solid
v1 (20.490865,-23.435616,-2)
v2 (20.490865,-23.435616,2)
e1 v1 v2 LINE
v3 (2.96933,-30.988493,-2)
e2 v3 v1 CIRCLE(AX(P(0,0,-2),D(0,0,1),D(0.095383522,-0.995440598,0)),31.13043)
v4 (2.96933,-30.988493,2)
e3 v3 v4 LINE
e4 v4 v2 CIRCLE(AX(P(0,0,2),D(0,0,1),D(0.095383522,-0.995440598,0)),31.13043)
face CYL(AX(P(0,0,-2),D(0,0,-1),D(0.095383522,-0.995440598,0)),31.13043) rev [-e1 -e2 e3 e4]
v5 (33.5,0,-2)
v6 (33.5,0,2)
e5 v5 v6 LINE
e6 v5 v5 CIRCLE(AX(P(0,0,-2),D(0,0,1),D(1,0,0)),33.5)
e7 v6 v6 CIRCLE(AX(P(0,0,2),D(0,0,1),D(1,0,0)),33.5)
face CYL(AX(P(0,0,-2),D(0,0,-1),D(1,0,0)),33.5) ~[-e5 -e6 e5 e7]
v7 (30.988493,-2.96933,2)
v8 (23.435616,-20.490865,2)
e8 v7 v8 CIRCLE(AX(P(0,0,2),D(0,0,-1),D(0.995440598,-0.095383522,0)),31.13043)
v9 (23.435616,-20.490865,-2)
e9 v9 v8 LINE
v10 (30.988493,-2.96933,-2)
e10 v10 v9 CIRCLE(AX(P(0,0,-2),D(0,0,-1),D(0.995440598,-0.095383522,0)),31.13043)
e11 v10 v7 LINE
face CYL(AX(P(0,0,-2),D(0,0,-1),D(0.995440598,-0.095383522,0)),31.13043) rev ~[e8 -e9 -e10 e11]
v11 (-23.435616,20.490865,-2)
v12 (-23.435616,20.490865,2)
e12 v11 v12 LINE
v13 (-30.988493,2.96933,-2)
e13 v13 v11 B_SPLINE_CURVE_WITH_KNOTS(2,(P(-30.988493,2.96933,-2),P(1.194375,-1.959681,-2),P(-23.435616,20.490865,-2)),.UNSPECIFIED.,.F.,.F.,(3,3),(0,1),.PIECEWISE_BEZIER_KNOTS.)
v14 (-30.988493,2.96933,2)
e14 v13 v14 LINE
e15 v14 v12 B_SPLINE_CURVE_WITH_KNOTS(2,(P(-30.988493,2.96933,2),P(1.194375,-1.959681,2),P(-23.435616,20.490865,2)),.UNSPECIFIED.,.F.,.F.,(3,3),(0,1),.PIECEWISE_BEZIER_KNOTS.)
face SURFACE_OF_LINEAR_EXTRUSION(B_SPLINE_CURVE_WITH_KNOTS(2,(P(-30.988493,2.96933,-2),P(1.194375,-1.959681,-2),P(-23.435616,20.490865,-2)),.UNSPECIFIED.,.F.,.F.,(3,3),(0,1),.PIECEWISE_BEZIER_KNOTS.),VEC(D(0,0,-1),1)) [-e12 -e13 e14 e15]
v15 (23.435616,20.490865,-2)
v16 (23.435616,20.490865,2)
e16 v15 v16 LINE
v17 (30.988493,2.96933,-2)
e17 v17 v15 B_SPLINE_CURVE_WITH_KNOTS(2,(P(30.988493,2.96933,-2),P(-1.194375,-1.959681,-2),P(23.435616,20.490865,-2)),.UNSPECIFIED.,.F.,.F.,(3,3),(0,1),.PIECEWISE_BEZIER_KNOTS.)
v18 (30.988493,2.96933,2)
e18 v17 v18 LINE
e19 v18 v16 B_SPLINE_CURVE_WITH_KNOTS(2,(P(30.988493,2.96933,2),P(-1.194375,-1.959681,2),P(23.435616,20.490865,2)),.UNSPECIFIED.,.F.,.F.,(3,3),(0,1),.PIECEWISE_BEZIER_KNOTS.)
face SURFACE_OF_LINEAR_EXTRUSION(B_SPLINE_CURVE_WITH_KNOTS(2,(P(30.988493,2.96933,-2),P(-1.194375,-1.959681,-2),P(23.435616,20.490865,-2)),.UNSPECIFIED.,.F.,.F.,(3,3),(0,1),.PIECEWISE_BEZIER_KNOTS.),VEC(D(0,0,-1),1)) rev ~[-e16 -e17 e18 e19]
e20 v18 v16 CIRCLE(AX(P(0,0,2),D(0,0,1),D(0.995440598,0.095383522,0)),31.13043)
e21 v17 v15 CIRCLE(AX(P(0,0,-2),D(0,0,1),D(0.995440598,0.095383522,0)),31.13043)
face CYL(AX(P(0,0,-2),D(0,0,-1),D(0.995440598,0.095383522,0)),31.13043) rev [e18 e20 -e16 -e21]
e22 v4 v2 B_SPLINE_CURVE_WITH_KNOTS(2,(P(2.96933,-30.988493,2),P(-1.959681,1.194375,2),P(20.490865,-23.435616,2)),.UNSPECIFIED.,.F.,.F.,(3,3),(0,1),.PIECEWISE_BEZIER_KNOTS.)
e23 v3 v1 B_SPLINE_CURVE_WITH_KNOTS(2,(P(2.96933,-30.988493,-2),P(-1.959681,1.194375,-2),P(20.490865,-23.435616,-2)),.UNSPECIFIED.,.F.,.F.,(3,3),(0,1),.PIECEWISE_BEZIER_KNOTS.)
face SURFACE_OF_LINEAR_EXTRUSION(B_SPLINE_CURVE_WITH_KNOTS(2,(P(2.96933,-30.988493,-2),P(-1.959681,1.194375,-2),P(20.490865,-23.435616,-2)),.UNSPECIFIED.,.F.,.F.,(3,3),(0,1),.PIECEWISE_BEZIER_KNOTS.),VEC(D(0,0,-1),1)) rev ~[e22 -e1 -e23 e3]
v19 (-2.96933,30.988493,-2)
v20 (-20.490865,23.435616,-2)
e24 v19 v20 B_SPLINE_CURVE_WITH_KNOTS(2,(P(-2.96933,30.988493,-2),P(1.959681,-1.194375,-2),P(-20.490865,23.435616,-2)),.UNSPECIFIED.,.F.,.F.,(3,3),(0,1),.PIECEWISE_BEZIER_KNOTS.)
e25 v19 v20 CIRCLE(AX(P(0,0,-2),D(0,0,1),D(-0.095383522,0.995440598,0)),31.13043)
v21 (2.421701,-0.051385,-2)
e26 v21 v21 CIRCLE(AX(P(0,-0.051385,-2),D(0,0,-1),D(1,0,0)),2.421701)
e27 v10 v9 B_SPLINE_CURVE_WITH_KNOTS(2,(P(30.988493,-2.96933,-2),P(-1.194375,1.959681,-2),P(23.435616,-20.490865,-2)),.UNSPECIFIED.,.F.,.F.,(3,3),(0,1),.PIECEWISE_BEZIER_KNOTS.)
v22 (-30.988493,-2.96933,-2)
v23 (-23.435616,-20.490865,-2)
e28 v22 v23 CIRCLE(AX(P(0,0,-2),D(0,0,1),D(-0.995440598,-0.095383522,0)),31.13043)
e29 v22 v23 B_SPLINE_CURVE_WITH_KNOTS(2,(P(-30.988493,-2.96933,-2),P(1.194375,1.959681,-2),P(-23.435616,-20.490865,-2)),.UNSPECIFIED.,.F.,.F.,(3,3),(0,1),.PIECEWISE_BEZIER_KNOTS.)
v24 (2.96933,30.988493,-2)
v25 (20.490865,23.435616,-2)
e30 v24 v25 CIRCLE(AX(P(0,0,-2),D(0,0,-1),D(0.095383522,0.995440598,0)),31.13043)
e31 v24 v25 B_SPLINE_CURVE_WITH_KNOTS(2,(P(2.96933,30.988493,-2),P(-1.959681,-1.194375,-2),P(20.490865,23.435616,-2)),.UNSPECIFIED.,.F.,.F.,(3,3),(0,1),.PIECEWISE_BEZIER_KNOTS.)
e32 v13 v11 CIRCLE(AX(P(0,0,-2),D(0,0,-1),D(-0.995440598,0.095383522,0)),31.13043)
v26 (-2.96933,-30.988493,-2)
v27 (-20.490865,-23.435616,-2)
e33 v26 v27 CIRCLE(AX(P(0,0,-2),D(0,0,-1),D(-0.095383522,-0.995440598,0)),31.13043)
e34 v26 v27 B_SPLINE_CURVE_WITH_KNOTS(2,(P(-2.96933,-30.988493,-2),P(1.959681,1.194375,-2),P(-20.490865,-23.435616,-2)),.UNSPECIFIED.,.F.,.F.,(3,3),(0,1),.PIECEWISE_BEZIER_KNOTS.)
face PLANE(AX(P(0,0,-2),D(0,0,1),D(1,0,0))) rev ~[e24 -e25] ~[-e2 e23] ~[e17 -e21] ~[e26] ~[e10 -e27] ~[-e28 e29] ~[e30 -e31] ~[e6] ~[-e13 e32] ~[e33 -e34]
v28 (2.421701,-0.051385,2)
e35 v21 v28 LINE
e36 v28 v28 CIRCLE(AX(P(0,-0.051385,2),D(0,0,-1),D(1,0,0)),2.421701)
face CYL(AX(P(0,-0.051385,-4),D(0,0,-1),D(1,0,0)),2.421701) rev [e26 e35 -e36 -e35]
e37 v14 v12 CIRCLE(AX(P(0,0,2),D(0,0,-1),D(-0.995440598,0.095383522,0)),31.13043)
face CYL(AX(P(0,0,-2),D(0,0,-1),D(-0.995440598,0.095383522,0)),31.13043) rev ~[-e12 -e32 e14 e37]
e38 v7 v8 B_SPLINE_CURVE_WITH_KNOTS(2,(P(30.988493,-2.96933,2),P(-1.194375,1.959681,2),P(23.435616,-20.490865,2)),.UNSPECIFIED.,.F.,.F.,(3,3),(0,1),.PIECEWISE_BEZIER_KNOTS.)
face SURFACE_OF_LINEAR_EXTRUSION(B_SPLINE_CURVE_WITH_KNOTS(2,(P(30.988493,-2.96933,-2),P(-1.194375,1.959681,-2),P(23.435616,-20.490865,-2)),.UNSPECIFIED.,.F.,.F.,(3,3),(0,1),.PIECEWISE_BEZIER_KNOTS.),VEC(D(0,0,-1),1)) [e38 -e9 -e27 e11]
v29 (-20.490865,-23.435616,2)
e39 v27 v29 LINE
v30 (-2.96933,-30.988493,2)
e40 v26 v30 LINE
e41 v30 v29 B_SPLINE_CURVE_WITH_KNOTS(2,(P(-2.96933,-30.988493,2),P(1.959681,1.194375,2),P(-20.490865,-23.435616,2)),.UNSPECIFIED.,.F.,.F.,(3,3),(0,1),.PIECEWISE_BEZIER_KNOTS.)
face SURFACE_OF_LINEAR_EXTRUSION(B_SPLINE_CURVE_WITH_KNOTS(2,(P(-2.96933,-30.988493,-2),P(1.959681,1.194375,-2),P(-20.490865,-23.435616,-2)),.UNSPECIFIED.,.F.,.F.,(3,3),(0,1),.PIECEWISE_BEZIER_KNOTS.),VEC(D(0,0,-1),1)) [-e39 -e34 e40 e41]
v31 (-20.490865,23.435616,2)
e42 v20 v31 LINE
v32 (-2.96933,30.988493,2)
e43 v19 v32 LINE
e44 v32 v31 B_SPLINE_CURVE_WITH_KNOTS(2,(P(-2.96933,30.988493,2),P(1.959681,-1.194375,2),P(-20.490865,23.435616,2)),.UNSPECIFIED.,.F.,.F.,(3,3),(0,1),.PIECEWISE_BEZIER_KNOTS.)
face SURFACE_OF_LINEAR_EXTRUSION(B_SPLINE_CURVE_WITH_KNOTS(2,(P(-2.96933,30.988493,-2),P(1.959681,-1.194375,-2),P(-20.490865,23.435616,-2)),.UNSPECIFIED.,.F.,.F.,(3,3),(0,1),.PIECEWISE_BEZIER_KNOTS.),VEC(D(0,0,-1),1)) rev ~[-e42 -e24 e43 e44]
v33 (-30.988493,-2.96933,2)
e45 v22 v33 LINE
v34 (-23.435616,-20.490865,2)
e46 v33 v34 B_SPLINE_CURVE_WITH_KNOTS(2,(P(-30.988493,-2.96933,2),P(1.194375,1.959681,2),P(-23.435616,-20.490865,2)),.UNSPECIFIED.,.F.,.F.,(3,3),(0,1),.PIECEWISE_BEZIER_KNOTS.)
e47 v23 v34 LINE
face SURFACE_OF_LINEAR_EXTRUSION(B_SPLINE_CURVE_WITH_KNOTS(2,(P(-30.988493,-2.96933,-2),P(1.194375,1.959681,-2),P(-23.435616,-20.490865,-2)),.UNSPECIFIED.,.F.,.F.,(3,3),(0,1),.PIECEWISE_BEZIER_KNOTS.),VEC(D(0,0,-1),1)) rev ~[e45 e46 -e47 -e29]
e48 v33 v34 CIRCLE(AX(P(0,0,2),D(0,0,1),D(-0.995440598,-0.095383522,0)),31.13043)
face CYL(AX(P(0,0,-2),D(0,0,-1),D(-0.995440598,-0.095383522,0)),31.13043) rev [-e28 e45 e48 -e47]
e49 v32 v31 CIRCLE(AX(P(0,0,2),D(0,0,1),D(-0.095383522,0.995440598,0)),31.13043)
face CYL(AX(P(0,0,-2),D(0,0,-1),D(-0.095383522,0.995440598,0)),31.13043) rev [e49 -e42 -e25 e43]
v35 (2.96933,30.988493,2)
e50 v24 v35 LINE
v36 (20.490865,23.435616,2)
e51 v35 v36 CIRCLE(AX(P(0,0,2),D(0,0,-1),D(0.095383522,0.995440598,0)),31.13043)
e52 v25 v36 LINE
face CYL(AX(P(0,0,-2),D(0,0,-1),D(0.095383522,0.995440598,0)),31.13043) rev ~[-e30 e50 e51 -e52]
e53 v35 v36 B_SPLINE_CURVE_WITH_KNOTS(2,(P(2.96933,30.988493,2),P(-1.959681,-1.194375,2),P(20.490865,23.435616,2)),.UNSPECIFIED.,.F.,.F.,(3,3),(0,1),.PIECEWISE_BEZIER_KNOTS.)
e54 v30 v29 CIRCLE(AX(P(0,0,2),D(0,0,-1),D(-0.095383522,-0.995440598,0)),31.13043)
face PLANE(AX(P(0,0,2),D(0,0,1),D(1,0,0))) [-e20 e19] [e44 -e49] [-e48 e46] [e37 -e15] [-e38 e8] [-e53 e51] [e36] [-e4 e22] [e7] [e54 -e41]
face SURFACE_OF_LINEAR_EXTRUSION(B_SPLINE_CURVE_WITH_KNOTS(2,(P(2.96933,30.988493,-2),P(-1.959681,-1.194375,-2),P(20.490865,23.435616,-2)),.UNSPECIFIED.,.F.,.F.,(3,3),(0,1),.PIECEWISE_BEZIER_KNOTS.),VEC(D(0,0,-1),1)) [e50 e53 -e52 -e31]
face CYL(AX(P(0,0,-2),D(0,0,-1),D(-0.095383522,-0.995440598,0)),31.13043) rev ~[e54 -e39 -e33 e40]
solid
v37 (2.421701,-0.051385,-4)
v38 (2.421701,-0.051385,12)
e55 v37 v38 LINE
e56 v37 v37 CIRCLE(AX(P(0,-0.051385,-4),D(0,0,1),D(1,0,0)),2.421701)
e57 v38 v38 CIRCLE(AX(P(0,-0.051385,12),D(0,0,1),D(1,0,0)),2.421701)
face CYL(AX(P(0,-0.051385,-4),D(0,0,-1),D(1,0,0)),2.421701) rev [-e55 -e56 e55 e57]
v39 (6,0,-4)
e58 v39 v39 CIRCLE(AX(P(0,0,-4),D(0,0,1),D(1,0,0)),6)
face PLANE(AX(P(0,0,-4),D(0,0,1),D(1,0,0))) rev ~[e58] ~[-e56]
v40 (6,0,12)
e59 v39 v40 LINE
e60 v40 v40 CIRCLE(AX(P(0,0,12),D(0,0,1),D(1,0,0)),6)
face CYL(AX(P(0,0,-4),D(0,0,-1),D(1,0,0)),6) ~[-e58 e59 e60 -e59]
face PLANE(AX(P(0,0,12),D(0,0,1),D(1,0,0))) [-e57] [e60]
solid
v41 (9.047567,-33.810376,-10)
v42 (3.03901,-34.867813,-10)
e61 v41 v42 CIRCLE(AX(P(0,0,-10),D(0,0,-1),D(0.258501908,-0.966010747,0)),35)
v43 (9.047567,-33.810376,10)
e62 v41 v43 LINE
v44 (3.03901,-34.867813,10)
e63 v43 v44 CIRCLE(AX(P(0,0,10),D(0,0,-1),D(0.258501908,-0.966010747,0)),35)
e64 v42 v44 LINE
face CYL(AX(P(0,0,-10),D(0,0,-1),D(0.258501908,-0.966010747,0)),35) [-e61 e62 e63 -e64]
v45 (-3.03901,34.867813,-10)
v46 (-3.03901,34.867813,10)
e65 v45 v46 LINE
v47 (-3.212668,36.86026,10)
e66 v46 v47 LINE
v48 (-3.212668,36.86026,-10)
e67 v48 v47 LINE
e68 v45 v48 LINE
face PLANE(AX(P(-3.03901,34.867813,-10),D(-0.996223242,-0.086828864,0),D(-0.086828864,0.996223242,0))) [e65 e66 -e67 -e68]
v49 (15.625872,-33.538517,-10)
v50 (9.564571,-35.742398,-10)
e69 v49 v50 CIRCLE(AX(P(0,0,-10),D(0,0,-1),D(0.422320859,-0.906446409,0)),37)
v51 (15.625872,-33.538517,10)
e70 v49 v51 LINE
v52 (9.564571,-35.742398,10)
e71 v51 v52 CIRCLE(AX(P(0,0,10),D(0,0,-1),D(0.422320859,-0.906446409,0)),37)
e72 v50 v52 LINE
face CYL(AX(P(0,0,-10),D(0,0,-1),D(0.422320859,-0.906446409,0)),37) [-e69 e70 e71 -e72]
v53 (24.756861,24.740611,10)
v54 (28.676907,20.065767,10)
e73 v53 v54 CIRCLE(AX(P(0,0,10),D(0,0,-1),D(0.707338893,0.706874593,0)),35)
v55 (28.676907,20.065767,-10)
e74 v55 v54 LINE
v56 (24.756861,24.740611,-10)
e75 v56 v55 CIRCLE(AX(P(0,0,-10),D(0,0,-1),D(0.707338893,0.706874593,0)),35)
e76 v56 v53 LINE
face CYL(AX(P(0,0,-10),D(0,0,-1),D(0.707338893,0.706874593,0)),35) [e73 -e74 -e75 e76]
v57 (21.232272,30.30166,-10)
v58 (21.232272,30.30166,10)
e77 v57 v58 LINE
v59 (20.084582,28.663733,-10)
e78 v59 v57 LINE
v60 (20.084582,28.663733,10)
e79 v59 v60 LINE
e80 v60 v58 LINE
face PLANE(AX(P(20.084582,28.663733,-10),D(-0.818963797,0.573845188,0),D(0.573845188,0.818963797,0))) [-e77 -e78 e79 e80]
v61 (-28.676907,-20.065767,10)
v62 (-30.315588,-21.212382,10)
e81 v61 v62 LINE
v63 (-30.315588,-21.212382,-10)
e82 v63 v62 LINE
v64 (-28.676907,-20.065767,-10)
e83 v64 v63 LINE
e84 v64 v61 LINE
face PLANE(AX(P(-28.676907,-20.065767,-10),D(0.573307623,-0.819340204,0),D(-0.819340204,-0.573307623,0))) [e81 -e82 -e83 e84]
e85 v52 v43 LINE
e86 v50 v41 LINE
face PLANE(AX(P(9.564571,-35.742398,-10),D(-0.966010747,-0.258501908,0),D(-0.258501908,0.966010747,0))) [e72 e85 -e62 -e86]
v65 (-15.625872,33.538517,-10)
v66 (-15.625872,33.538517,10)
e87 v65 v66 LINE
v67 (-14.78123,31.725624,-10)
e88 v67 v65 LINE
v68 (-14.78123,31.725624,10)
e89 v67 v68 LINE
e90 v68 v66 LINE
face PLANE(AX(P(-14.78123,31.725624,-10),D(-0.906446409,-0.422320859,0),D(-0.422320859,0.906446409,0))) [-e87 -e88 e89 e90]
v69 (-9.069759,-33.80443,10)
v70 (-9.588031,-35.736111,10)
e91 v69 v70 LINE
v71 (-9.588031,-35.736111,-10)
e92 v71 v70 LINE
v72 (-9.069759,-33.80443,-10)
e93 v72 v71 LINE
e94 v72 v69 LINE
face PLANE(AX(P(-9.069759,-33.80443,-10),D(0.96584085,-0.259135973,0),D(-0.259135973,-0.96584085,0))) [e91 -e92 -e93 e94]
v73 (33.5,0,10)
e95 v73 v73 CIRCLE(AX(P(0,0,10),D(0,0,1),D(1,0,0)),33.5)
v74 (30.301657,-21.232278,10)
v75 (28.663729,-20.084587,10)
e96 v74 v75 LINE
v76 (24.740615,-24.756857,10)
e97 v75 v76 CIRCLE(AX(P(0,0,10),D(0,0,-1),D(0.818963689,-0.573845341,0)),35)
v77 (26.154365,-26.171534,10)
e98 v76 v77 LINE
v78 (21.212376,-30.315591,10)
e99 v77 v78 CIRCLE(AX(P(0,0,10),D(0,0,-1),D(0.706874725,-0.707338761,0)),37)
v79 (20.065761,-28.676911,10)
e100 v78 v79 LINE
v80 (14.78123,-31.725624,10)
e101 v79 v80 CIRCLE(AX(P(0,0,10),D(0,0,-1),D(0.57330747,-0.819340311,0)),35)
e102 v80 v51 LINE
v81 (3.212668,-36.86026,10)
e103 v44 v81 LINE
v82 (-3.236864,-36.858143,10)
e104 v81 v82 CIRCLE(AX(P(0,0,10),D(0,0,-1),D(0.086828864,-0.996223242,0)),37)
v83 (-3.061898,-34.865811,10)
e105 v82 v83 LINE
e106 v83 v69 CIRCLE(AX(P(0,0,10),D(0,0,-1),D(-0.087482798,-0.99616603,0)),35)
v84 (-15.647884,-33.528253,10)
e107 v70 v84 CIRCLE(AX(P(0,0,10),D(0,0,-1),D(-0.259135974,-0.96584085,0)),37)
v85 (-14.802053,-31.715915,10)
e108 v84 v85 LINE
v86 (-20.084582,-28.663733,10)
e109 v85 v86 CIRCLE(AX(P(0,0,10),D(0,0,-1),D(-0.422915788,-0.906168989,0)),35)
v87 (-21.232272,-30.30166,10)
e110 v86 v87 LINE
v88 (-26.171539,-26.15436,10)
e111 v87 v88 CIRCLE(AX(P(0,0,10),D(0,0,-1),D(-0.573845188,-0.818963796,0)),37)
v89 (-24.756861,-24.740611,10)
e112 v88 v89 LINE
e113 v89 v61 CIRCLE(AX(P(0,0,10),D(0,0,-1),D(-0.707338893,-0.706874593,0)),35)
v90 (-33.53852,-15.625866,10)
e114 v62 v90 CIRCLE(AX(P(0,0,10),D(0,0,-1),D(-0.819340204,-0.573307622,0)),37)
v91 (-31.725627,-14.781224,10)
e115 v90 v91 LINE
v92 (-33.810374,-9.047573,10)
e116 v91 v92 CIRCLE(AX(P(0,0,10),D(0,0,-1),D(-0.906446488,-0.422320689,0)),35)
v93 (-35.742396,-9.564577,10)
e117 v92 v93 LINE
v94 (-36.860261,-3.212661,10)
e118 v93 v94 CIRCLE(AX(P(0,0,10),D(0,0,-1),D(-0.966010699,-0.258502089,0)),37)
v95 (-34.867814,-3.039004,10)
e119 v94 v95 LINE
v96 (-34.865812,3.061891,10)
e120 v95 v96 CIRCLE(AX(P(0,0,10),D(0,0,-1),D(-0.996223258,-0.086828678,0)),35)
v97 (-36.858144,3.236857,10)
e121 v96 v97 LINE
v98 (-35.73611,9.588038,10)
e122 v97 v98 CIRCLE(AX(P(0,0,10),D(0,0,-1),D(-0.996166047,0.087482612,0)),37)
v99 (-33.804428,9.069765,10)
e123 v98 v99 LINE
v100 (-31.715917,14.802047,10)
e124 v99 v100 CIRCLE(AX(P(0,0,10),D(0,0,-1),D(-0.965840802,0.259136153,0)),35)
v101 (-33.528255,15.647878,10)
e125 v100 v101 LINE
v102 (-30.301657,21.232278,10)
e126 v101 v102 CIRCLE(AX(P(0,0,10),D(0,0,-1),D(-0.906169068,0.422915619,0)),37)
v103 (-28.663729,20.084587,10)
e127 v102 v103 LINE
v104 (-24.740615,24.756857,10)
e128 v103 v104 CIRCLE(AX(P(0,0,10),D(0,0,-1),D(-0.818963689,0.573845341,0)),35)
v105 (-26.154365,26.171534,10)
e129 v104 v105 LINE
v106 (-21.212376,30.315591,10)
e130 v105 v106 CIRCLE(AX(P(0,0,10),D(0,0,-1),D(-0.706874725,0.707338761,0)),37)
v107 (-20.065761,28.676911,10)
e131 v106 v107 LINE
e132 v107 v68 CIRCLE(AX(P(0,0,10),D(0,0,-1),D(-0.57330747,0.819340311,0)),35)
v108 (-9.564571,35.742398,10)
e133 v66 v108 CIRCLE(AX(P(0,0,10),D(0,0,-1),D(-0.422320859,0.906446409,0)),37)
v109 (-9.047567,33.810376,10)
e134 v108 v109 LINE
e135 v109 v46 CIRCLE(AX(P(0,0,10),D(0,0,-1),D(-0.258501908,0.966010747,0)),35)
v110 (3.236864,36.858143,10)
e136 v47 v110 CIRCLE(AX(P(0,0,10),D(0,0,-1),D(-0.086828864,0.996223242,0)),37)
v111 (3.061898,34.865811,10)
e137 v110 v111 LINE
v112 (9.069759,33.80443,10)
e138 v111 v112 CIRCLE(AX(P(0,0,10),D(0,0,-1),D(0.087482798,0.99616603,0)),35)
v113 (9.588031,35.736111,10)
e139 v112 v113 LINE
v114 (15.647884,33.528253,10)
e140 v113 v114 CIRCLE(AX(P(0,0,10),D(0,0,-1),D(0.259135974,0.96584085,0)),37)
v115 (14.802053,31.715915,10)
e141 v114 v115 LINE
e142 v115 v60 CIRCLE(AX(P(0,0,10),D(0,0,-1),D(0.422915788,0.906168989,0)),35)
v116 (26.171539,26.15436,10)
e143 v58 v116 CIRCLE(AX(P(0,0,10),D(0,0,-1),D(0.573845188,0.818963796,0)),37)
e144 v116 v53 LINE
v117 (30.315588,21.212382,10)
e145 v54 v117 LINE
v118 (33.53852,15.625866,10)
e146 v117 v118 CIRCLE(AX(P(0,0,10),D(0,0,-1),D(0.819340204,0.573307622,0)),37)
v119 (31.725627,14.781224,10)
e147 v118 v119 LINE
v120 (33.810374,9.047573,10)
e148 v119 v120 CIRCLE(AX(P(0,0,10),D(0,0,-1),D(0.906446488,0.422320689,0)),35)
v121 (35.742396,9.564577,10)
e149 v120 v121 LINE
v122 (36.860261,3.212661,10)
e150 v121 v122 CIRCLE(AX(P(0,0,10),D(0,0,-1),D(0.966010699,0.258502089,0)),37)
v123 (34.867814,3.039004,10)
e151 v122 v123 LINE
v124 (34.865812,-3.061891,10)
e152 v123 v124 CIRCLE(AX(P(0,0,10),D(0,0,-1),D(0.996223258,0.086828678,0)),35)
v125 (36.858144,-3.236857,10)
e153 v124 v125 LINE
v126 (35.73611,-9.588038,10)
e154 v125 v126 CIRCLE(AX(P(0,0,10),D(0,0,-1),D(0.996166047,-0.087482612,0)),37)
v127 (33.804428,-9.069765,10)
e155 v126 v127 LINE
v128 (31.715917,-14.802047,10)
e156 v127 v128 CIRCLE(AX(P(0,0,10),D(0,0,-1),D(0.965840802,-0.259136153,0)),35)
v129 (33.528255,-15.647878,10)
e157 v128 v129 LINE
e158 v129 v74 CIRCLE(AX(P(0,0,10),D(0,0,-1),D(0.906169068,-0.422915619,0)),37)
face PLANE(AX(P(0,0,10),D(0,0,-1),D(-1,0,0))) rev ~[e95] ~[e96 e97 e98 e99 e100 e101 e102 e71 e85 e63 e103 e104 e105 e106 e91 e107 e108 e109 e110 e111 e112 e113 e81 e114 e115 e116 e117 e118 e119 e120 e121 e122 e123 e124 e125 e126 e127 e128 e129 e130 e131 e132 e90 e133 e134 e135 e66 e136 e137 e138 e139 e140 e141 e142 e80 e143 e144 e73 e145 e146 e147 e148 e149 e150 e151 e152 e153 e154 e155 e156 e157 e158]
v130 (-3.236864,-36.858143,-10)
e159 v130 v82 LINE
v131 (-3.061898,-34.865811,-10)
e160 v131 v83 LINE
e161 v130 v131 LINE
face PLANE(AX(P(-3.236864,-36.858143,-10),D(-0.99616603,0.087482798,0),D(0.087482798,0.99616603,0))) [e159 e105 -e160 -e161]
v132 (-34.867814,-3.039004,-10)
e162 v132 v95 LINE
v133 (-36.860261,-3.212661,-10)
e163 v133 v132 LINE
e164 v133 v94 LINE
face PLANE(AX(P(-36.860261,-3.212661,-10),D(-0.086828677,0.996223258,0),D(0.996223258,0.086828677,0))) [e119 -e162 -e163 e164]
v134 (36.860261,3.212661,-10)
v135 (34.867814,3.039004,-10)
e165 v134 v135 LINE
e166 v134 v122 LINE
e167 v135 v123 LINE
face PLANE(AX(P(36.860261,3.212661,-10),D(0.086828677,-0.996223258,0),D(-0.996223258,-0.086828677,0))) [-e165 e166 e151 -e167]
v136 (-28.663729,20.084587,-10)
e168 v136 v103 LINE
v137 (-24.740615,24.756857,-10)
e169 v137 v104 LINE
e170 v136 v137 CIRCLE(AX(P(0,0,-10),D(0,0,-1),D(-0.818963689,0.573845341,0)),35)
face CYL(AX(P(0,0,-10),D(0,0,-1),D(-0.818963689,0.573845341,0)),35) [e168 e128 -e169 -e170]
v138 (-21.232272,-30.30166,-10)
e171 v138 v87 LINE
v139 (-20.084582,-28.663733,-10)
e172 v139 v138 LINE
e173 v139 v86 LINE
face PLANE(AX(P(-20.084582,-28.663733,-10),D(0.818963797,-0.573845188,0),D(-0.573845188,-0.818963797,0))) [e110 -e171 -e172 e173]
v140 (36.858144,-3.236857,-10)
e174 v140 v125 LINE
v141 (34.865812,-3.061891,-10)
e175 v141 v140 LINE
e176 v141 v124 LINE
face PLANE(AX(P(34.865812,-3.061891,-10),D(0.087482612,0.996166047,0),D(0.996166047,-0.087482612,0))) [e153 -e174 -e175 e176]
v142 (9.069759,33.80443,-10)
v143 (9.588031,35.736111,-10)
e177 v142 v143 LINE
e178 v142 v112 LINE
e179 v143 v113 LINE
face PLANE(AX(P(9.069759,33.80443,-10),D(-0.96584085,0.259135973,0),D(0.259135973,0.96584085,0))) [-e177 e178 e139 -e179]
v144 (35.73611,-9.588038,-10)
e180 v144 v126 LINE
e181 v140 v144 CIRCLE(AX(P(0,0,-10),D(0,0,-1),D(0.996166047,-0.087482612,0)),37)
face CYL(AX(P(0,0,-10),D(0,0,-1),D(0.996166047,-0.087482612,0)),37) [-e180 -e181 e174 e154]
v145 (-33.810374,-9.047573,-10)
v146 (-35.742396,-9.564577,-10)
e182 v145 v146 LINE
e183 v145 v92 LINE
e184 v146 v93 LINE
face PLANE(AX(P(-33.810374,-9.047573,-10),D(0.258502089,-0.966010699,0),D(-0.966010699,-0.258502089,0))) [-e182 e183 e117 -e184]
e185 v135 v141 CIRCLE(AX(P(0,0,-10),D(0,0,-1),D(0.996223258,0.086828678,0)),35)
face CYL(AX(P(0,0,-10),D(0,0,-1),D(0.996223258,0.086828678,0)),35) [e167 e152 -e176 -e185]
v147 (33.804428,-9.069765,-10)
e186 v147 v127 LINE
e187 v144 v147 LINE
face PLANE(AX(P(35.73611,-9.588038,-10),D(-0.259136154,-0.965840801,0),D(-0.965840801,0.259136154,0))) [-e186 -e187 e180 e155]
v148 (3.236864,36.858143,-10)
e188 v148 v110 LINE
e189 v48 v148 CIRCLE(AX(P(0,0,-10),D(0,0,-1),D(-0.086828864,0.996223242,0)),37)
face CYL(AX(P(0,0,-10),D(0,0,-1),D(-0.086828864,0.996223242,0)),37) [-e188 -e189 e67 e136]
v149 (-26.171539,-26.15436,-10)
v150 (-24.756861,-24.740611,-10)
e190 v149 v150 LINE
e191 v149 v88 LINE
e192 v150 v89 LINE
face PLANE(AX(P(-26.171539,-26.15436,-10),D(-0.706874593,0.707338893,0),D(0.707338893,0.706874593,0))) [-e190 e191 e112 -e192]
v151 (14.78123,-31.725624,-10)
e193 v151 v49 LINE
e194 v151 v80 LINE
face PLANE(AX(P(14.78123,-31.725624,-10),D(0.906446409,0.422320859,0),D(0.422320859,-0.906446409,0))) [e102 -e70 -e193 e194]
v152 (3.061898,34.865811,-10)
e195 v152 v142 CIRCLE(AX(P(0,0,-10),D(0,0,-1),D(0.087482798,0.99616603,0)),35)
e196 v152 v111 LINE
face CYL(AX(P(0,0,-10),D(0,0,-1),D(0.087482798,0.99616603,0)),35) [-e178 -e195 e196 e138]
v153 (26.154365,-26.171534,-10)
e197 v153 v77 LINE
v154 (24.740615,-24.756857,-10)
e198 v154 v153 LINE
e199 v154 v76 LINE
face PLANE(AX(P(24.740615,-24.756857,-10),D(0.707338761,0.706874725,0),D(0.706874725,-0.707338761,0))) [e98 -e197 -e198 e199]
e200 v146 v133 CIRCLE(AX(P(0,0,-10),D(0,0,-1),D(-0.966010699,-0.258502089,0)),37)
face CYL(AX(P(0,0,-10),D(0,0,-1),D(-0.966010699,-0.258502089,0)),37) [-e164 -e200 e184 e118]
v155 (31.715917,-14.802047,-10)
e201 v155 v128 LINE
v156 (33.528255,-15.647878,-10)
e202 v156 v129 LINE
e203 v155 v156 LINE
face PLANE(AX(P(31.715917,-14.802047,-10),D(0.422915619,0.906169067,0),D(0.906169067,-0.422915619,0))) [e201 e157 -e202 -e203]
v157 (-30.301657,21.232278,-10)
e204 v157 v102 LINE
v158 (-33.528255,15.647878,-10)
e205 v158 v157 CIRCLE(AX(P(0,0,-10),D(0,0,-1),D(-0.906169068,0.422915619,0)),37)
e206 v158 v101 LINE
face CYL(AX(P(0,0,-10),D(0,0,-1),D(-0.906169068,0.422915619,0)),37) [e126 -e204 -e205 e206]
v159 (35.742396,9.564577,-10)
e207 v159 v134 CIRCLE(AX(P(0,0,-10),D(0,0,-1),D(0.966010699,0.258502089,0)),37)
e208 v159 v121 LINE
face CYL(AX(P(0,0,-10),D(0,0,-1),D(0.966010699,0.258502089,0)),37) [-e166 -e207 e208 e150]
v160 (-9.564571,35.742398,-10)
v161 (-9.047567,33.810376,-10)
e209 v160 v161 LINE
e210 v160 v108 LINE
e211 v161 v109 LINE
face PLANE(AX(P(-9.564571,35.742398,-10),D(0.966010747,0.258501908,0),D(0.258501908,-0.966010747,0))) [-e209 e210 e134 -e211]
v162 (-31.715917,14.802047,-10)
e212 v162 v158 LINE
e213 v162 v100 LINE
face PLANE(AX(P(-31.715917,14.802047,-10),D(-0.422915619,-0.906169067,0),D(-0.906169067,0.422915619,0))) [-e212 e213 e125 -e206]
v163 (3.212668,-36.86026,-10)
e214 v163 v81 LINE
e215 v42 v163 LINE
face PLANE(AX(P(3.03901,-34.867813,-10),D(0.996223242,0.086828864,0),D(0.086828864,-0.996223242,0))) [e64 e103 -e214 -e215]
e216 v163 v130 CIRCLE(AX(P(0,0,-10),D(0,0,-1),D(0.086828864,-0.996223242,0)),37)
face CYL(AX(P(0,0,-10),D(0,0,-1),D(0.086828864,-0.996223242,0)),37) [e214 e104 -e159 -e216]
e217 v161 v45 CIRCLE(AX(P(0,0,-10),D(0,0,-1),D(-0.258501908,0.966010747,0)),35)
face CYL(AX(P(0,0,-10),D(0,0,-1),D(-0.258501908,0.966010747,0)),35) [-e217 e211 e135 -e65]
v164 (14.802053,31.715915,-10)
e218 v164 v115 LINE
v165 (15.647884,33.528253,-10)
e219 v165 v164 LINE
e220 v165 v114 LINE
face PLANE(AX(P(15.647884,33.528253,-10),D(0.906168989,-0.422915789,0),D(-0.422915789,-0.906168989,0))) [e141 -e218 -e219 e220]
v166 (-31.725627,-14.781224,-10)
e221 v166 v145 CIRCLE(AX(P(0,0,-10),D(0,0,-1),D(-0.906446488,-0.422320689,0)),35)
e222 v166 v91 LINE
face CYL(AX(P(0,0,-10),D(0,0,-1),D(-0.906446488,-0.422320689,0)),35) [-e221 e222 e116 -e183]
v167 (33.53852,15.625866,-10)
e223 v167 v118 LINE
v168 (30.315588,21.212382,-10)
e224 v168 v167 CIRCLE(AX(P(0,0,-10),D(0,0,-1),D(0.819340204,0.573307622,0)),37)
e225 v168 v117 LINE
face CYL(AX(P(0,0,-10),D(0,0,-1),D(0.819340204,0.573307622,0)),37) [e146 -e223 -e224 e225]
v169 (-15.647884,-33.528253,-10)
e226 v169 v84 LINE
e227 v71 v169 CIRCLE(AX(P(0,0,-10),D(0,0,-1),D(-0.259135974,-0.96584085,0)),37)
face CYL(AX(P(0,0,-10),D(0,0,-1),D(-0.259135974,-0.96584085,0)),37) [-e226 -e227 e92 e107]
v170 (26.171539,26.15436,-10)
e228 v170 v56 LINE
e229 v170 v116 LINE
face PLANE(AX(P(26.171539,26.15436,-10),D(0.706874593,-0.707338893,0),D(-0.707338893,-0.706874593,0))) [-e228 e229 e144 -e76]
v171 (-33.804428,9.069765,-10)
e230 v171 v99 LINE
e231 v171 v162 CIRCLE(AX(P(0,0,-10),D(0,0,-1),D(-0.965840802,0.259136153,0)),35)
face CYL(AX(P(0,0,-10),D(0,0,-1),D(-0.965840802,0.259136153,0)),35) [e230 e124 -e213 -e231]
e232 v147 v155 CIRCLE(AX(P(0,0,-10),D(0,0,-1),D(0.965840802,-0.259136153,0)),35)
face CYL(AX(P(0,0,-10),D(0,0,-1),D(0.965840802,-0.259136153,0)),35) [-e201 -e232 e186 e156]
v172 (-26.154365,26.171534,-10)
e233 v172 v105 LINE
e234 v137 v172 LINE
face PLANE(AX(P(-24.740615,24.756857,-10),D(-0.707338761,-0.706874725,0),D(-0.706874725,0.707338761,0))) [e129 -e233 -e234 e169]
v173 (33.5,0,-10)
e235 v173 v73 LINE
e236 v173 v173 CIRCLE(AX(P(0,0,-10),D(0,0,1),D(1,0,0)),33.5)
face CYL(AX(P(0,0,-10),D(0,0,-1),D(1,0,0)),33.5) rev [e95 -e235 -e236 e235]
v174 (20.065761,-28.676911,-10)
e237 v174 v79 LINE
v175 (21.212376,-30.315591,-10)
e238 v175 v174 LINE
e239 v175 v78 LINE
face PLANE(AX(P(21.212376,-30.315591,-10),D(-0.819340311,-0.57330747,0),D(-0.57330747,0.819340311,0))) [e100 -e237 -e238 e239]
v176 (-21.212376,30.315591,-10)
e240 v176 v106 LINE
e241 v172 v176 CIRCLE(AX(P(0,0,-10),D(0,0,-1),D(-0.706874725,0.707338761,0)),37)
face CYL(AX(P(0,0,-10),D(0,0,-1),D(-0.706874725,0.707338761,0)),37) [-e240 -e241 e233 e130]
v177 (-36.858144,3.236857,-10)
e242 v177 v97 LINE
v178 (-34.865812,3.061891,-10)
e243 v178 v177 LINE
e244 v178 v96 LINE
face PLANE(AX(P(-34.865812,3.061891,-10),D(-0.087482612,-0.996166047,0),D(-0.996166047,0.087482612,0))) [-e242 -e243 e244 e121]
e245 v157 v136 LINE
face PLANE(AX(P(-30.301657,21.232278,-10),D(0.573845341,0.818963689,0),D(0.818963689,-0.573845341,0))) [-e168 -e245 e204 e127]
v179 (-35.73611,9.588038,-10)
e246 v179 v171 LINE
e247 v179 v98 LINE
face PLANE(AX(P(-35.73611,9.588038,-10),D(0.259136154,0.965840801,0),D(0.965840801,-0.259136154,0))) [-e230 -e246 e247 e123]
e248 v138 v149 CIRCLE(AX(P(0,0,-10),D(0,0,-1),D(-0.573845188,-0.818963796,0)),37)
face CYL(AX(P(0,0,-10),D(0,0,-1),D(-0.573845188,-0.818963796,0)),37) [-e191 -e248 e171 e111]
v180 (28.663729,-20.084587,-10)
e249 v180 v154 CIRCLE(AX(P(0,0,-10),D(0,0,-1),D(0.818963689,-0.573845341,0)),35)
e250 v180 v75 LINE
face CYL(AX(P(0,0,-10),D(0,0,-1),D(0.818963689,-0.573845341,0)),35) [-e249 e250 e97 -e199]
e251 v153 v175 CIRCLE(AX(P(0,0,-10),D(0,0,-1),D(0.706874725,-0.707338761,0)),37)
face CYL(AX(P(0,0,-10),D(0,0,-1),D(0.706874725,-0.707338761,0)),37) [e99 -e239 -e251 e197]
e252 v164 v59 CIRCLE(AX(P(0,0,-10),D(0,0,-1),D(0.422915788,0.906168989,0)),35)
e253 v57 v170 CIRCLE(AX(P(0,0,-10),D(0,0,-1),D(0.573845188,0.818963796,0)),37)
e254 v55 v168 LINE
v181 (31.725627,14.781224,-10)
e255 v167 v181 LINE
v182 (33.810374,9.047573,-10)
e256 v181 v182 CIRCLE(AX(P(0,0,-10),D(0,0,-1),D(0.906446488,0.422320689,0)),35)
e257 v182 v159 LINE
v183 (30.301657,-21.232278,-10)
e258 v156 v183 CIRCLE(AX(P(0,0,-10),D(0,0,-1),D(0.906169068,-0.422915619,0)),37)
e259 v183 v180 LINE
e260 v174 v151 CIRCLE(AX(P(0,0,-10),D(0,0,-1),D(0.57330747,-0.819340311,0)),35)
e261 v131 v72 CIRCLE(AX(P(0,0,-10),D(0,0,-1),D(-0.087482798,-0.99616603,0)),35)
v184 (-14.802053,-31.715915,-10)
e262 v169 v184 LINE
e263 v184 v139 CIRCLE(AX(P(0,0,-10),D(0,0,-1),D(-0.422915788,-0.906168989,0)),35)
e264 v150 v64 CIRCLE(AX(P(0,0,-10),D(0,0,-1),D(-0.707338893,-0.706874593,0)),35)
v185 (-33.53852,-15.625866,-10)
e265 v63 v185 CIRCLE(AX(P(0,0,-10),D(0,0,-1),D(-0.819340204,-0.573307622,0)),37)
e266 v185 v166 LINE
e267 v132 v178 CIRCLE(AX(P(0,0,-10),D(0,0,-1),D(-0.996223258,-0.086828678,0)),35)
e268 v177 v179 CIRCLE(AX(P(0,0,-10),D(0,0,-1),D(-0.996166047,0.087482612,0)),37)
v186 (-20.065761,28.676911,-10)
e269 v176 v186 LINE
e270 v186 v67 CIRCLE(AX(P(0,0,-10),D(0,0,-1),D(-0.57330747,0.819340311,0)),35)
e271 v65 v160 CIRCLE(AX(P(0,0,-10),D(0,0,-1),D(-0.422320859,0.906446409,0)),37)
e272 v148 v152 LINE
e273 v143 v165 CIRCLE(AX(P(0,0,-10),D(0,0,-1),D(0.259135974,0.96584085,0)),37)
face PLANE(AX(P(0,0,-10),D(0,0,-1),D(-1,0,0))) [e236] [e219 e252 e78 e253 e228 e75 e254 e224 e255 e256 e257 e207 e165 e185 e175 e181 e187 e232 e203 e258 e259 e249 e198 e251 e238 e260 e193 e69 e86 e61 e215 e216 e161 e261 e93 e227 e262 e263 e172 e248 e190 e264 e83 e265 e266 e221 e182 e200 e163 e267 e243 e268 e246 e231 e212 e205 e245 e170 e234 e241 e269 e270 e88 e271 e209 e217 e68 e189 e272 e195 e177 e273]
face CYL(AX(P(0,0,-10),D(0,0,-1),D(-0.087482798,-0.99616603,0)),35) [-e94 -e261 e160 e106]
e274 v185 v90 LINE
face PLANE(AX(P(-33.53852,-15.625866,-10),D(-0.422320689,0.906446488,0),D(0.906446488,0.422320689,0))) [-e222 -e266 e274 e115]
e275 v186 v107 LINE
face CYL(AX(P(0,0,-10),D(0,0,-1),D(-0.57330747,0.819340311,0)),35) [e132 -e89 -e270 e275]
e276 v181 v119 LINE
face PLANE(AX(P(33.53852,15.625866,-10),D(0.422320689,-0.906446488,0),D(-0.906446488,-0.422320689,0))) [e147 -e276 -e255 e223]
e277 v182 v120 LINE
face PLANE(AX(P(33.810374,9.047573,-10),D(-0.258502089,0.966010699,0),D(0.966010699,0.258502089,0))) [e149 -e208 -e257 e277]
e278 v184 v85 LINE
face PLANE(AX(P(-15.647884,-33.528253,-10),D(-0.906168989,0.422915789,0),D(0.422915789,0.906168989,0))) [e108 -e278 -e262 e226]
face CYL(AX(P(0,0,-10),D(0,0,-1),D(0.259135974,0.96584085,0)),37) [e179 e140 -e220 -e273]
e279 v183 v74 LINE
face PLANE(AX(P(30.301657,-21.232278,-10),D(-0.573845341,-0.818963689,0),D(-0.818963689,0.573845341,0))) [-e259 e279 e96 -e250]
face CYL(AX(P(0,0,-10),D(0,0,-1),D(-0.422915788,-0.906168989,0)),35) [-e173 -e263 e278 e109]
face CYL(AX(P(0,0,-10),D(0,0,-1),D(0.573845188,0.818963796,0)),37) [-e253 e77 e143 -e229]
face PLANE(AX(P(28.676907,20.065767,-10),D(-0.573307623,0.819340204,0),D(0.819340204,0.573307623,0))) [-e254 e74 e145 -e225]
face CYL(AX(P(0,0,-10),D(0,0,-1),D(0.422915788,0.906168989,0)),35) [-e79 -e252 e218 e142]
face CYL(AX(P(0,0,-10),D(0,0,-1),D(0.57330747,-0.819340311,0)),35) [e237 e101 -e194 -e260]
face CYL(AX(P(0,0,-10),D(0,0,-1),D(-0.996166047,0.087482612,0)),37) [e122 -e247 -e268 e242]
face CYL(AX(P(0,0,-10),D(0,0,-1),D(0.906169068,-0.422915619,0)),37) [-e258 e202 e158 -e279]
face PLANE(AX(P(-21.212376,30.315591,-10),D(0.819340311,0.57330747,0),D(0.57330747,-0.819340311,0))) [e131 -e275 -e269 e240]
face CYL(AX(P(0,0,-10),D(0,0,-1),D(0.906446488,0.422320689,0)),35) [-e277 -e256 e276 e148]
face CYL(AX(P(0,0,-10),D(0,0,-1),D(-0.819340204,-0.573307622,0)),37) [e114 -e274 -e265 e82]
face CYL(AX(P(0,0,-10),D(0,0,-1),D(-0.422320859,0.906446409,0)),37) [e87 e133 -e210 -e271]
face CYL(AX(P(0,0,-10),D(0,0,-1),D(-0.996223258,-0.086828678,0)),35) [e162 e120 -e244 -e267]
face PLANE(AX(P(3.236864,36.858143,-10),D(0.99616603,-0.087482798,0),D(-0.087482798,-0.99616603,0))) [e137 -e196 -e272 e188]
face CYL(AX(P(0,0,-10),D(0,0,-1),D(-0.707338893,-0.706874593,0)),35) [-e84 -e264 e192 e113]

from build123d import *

# Parameters (mm, degrees)
BOSS_EXTRUDE1_DEPTH      = 2
BOSS_EXTRUDE1_DEPTH_BACK = 2
SKETCH1_R                = 33.5
BOSS_EXTRUDE2_DEPTH      = 10
BOSS_EXTRUDE2_DEPTH_BACK = 10
SKETCH1_3_R              = 33.5
BOSS_EXTRUDE3_DEPTH      = 12
BOSS_EXTRUDE3_DEPTH_BACK = 4
SKETCH1_4_R              = 6
CUT_EXTRUDE1_DEPTH       = 12
CUT_EXTRUDE1_DEPTH_BACK  = 4
SKETCH1_8_R              = 2.421700836


with BuildPart() as part:
    # Sketch1 → Boss-Extrude1 (new, two sides: drawn at the far end of the back side and taken through both)
    with BuildSketch(Plane.XY.offset(-BOSS_EXTRUDE1_DEPTH_BACK)):
        Circle(SKETCH1_R)
        with BuildLine():
            ThreePointArc((2.969330018, 30.988493446), (12.323014144, 28.587531709), (20.490865046, 23.435615982))
            add(Edge.make_bspline(
                [(2.969330018, 30.988493446), (-1.959681003, -1.194375065), (20.490865046, 23.435615982)],
                knots=[0, 0, 0, 1, 1, 1], degree=2))
        make_face(mode=Mode.SUBTRACT)
        with BuildLine():
            ThreePointArc((30.988493446, 2.969330018), (28.587531709, 12.323014144), (23.435615982, 20.490865046))
            add(Edge.make_bspline(
                [(30.988493446, 2.969330018), (-1.194375065, -1.959681003), (23.435615982, 20.490865046)],
                knots=[0, 0, 0, 1, 1, 1], degree=2))
        make_face(mode=Mode.SUBTRACT)
        with BuildLine():
            ThreePointArc((30.988493446, -2.969330018), (28.587531709, -12.323014144), (23.435615982, -20.490865046))
            add(Edge.make_bspline(
                [(30.988493446, -2.969330018), (-1.194375065, 1.959681003), (23.435615982, -20.490865046)],
                knots=[0, 0, 0, 1, 1, 1], degree=2))
        make_face(mode=Mode.SUBTRACT)
        with BuildLine():
            ThreePointArc((2.969330018, -30.988493446), (12.323014144, -28.587531709), (20.490865046, -23.435615982))
            add(Edge.make_bspline(
                [(2.969330018, -30.988493446), (-1.959681003, 1.194375065), (20.490865046, -23.435615982)],
                knots=[0, 0, 0, 1, 1, 1], degree=2))
        make_face(mode=Mode.SUBTRACT)
        with BuildLine():
            ThreePointArc((-2.969330018, -30.988493446), (-12.323014144, -28.587531709), (-20.490865046, -23.435615982))
            add(Edge.make_bspline(
                [(-2.969330018, -30.988493446), (1.959681003, 1.194375065), (-20.490865046, -23.435615982)],
                knots=[0, 0, 0, 1, 1, 1], degree=2))
        make_face(mode=Mode.SUBTRACT)
        with BuildLine():
            ThreePointArc((-30.988493446, -2.969330018), (-28.587531709, -12.323014144), (-23.435615982, -20.490865046))
            add(Edge.make_bspline(
                [(-30.988493446, -2.969330018), (1.194375065, 1.959681003), (-23.435615982, -20.490865046)],
                knots=[0, 0, 0, 1, 1, 1], degree=2))
        make_face(mode=Mode.SUBTRACT)
        with BuildLine():
            ThreePointArc((-30.988493446, 2.969330018), (-28.587531709, 12.323014144), (-23.435615982, 20.490865046))
            add(Edge.make_bspline(
                [(-30.988493446, 2.969330018), (1.194375065, -1.959681003), (-23.435615982, 20.490865046)],
                knots=[0, 0, 0, 1, 1, 1], degree=2))
        make_face(mode=Mode.SUBTRACT)
        with BuildLine():
            ThreePointArc((-2.969330018, 30.988493446), (-12.323014144, 28.587531709), (-20.490865046, 23.435615982))
            add(Edge.make_bspline(
                [(-2.969330018, 30.988493446), (1.959681003, -1.194375065), (-20.490865046, 23.435615982)],
                knots=[0, 0, 0, 1, 1, 1], degree=2))
        make_face(mode=Mode.SUBTRACT)
    extrude(amount=BOSS_EXTRUDE1_DEPTH + BOSS_EXTRUDE1_DEPTH_BACK)


with BuildPart() as body_2:
    # Sketch1<3> → Boss-Extrude2 (new, two sides: drawn at the far end of the back side and taken through both)
    with BuildSketch(Plane.XY.offset(-BOSS_EXTRUDE2_DEPTH_BACK)):
        with BuildLine():
            Line((3.236863537, 36.858143123), (3.06189794, 34.865811062))
            ThreePointArc((3.06189794, 34.865811062), (6.088998939, 34.466274703), (9.069759079, 33.804429743))
            Line((9.069759079, 33.804429743), (9.588031026, 35.736111443))
            ThreePointArc((9.588031026, 35.736111443), (12.666156251, 34.764471603), (15.647884173, 33.528252577))
            Line((15.647884173, 33.528252577), (14.802052596, 31.7159146))
            ThreePointArc((14.802052596, 31.7159146), (17.509947585, 30.305143715), (20.084581584, 28.66373288))
            Line((20.084581584, 28.66373288), (21.23227196, 30.301660473))
            ThreePointArc((21.23227196, 30.301660473), (23.792443123, 28.335836854), (26.171539041, 26.154359947))
            Line((26.171539041, 26.154359947), (24.756861255, 24.740610761))
            ThreePointArc((24.756861255, 24.740610761), (26.818938133, 22.488765138), (28.676907134, 20.065766799))
            Line((28.676907134, 20.065766799), (30.315587542, 21.212382045))
            ThreePointArc((30.315587542, 21.212382045), (32.049010215, 18.489481989), (33.538520049, 15.62586551))
            Line((33.538520049, 15.62586551), (31.725627073, 14.781224131))
            ThreePointArc((31.725627073, 14.781224131), (32.893168936, 11.959909587), (33.810374457, 9.047573103))
            Line((33.810374457, 9.047573103), (35.742395855, 9.564577281))
            ThreePointArc((35.742395855, 9.564577281), (36.439993683, 6.41302272), (36.860260563, 3.212661079))
            Line((36.860260563, 3.212661079), (34.867814046, 3.039003724))
            ThreePointArc((34.867814046, 3.039003724), (34.999998115, -0.01148757), (34.865811633, -3.061891437))
            Line((34.865811633, -3.061891437), (36.858143726, -3.236856661))
            ThreePointArc((36.858143726, -3.236856661), (36.435776115, -6.436941736), (35.736109654, -9.588037692))
            Line((35.736109654, -9.588037692), (33.804428051, -9.069765384))
            ThreePointArc((33.804428051, -9.069765384), (32.885310976, -11.981499156), (31.715917361, -14.80204668))
            Line((31.715917361, -14.80204668), (33.528255496, -15.647877919))
            ThreePointArc((33.528255496, -15.647877919), (32.036866213, -18.510516018), (30.301656512, -21.232277613))
            Line((30.301656512, -21.232277613), (28.663729133, -20.084586931))
            ThreePointArc((28.663729133, -20.084586931), (26.804169997, -22.506365116), (24.740615379, -24.75685664))
            Line((24.740615379, -24.75685664), (26.154364829, -26.171534162))
            ThreePointArc((26.154364829, -26.171534162), (23.773837432, -28.351448883), (21.21237639, -30.315591498))
            Line((21.21237639, -30.315591498), (20.06576145, -28.676910877))
            ThreePointArc((20.06576145, -28.676910877), (17.49005053, -30.316631285), (14.781230049, -31.725624316))
            Line((14.781230049, -31.725624316), (15.625871766, -33.538517134))
            ThreePointArc((15.625871766, -33.538517134), (12.643332992, -34.77277859), (9.564570614, -35.742397639))
            Line((9.564570614, -35.742397639), (9.047566797, -33.810376145))
            ThreePointArc((9.047566797, -33.810376145), (6.066372843, -34.470264294), (3.039010227, -34.867813479))
            Line((3.039010227, -34.867813479), (3.212667955, -36.860259964))
            ThreePointArc((3.212667955, -36.860259964), (-0.012144003, -36.999998007), (-3.236863537, -36.858143123))
            Line((-3.236863537, -36.858143123), (-3.06189794, -34.865811062))
            ThreePointArc((-3.06189794, -34.865811062), (-6.088998939, -34.466274703), (-9.069759079, -33.804429743))
            Line((-9.069759079, -33.804429743), (-9.588031026, -35.736111443))
            ThreePointArc((-9.588031026, -35.736111443), (-12.666156251, -34.764471603), (-15.647884173, -33.528252577))
            Line((-15.647884173, -33.528252577), (-14.802052596, -31.7159146))
            ThreePointArc((-14.802052596, -31.7159146), (-17.509947585, -30.305143715), (-20.084581584, -28.66373288))
            Line((-20.084581584, -28.66373288), (-21.23227196, -30.301660473))
            ThreePointArc((-21.23227196, -30.301660473), (-23.792443123, -28.335836854), (-26.171539041, -26.154359947))
            Line((-26.171539041, -26.154359947), (-24.756861255, -24.740610761))
            ThreePointArc((-24.756861255, -24.740610761), (-26.818938133, -22.488765138), (-28.676907134, -20.065766799))
            Line((-28.676907134, -20.065766799), (-30.315587542, -21.212382045))
            ThreePointArc((-30.315587542, -21.212382045), (-32.049010215, -18.489481989), (-33.538520049, -15.62586551))
            Line((-33.538520049, -15.62586551), (-31.725627073, -14.781224131))
            ThreePointArc((-31.725627073, -14.781224131), (-32.893168936, -11.959909587), (-33.810374457, -9.047573103))
            Line((-33.810374457, -9.047573103), (-35.742395855, -9.564577281))
            ThreePointArc((-35.742395855, -9.564577281), (-36.439993683, -6.41302272), (-36.860260563, -3.212661079))
            Line((-36.860260563, -3.212661079), (-34.867814046, -3.039003724))
            ThreePointArc((-34.867814046, -3.039003724), (-34.999998115, 0.01148757), (-34.865811633, 3.061891437))
            Line((-34.865811633, 3.061891437), (-36.858143726, 3.236856661))
            ThreePointArc((-36.858143726, 3.236856661), (-36.435776115, 6.436941736), (-35.736109654, 9.588037692))
            Line((-35.736109654, 9.588037692), (-33.804428051, 9.069765384))
            ThreePointArc((-33.804428051, 9.069765384), (-32.885310976, 11.981499156), (-31.715917361, 14.80204668))
            Line((-31.715917361, 14.80204668), (-33.528255496, 15.647877919))
            ThreePointArc((-33.528255496, 15.647877919), (-32.036866213, 18.510516018), (-30.301656512, 21.232277613))
            Line((-30.301656512, 21.232277613), (-28.663729133, 20.084586931))
            ThreePointArc((-28.663729133, 20.084586931), (-26.804169997, 22.506365116), (-24.740615379, 24.75685664))
            Line((-24.740615379, 24.75685664), (-26.154364829, 26.171534162))
            ThreePointArc((-26.154364829, 26.171534162), (-23.773837432, 28.351448883), (-21.21237639, 30.315591498))
            Line((-21.21237639, 30.315591498), (-20.06576145, 28.676910877))
            ThreePointArc((-20.06576145, 28.676910877), (-17.49005053, 30.316631285), (-14.781230049, 31.725624316))
            Line((-14.781230049, 31.725624316), (-15.625871766, 33.538517134))
            ThreePointArc((-15.625871766, 33.538517134), (-12.643332992, 34.77277859), (-9.564570614, 35.742397639))
            Line((-9.564570614, 35.742397639), (-9.047566797, 33.810376145))
            ThreePointArc((-9.047566797, 33.810376145), (-6.066372843, 34.470264294), (-3.039010227, 34.867813479))
            Line((-3.039010227, 34.867813479), (-3.212667955, 36.860259964))
            ThreePointArc((-3.212667955, 36.860259964), (0.012144003, 36.999998007), (3.236863537, 36.858143123))
        make_face()
        Circle(SKETCH1_3_R, mode=Mode.SUBTRACT)
    extrude(amount=BOSS_EXTRUDE2_DEPTH + BOSS_EXTRUDE2_DEPTH_BACK)


with BuildPart() as body_3:
    # Sketch1<4> → Boss-Extrude3 (new, two sides: drawn at the far end of the back side and taken through both)
    with BuildSketch(Plane.XY.offset(-BOSS_EXTRUDE3_DEPTH_BACK)):
        Circle(SKETCH1_4_R)
    extrude(amount=BOSS_EXTRUDE3_DEPTH + BOSS_EXTRUDE3_DEPTH_BACK)


with BuildPart() as cut_extrude1_tool:
    # Sketch1<8> → Cut-Extrude1 (new, two sides: drawn at the far end of the back side and taken through both)
    with BuildSketch(Plane.XY.offset(-CUT_EXTRUDE1_DEPTH_BACK)):
        with Locations((0, -0.051384877)):
            Circle(SKETCH1_8_R)
    extrude(amount=CUT_EXTRUDE1_DEPTH + CUT_EXTRUDE1_DEPTH_BACK)


with BuildPart() as part_1:
    add(part.part)

    # Cut-Extrude1: cut by cut_extrude1_tool
    add(cut_extrude1_tool.part, mode=Mode.SUBTRACT)


with BuildPart() as body_3_1:
    add(body_3.part)

    # Cut-Extrude1: cut by cut_extrude1_tool
    add(cut_extrude1_tool.part, mode=Mode.SUBTRACT)


solid = Compound([body_2.part, part_1.part, body_3_1.part])
